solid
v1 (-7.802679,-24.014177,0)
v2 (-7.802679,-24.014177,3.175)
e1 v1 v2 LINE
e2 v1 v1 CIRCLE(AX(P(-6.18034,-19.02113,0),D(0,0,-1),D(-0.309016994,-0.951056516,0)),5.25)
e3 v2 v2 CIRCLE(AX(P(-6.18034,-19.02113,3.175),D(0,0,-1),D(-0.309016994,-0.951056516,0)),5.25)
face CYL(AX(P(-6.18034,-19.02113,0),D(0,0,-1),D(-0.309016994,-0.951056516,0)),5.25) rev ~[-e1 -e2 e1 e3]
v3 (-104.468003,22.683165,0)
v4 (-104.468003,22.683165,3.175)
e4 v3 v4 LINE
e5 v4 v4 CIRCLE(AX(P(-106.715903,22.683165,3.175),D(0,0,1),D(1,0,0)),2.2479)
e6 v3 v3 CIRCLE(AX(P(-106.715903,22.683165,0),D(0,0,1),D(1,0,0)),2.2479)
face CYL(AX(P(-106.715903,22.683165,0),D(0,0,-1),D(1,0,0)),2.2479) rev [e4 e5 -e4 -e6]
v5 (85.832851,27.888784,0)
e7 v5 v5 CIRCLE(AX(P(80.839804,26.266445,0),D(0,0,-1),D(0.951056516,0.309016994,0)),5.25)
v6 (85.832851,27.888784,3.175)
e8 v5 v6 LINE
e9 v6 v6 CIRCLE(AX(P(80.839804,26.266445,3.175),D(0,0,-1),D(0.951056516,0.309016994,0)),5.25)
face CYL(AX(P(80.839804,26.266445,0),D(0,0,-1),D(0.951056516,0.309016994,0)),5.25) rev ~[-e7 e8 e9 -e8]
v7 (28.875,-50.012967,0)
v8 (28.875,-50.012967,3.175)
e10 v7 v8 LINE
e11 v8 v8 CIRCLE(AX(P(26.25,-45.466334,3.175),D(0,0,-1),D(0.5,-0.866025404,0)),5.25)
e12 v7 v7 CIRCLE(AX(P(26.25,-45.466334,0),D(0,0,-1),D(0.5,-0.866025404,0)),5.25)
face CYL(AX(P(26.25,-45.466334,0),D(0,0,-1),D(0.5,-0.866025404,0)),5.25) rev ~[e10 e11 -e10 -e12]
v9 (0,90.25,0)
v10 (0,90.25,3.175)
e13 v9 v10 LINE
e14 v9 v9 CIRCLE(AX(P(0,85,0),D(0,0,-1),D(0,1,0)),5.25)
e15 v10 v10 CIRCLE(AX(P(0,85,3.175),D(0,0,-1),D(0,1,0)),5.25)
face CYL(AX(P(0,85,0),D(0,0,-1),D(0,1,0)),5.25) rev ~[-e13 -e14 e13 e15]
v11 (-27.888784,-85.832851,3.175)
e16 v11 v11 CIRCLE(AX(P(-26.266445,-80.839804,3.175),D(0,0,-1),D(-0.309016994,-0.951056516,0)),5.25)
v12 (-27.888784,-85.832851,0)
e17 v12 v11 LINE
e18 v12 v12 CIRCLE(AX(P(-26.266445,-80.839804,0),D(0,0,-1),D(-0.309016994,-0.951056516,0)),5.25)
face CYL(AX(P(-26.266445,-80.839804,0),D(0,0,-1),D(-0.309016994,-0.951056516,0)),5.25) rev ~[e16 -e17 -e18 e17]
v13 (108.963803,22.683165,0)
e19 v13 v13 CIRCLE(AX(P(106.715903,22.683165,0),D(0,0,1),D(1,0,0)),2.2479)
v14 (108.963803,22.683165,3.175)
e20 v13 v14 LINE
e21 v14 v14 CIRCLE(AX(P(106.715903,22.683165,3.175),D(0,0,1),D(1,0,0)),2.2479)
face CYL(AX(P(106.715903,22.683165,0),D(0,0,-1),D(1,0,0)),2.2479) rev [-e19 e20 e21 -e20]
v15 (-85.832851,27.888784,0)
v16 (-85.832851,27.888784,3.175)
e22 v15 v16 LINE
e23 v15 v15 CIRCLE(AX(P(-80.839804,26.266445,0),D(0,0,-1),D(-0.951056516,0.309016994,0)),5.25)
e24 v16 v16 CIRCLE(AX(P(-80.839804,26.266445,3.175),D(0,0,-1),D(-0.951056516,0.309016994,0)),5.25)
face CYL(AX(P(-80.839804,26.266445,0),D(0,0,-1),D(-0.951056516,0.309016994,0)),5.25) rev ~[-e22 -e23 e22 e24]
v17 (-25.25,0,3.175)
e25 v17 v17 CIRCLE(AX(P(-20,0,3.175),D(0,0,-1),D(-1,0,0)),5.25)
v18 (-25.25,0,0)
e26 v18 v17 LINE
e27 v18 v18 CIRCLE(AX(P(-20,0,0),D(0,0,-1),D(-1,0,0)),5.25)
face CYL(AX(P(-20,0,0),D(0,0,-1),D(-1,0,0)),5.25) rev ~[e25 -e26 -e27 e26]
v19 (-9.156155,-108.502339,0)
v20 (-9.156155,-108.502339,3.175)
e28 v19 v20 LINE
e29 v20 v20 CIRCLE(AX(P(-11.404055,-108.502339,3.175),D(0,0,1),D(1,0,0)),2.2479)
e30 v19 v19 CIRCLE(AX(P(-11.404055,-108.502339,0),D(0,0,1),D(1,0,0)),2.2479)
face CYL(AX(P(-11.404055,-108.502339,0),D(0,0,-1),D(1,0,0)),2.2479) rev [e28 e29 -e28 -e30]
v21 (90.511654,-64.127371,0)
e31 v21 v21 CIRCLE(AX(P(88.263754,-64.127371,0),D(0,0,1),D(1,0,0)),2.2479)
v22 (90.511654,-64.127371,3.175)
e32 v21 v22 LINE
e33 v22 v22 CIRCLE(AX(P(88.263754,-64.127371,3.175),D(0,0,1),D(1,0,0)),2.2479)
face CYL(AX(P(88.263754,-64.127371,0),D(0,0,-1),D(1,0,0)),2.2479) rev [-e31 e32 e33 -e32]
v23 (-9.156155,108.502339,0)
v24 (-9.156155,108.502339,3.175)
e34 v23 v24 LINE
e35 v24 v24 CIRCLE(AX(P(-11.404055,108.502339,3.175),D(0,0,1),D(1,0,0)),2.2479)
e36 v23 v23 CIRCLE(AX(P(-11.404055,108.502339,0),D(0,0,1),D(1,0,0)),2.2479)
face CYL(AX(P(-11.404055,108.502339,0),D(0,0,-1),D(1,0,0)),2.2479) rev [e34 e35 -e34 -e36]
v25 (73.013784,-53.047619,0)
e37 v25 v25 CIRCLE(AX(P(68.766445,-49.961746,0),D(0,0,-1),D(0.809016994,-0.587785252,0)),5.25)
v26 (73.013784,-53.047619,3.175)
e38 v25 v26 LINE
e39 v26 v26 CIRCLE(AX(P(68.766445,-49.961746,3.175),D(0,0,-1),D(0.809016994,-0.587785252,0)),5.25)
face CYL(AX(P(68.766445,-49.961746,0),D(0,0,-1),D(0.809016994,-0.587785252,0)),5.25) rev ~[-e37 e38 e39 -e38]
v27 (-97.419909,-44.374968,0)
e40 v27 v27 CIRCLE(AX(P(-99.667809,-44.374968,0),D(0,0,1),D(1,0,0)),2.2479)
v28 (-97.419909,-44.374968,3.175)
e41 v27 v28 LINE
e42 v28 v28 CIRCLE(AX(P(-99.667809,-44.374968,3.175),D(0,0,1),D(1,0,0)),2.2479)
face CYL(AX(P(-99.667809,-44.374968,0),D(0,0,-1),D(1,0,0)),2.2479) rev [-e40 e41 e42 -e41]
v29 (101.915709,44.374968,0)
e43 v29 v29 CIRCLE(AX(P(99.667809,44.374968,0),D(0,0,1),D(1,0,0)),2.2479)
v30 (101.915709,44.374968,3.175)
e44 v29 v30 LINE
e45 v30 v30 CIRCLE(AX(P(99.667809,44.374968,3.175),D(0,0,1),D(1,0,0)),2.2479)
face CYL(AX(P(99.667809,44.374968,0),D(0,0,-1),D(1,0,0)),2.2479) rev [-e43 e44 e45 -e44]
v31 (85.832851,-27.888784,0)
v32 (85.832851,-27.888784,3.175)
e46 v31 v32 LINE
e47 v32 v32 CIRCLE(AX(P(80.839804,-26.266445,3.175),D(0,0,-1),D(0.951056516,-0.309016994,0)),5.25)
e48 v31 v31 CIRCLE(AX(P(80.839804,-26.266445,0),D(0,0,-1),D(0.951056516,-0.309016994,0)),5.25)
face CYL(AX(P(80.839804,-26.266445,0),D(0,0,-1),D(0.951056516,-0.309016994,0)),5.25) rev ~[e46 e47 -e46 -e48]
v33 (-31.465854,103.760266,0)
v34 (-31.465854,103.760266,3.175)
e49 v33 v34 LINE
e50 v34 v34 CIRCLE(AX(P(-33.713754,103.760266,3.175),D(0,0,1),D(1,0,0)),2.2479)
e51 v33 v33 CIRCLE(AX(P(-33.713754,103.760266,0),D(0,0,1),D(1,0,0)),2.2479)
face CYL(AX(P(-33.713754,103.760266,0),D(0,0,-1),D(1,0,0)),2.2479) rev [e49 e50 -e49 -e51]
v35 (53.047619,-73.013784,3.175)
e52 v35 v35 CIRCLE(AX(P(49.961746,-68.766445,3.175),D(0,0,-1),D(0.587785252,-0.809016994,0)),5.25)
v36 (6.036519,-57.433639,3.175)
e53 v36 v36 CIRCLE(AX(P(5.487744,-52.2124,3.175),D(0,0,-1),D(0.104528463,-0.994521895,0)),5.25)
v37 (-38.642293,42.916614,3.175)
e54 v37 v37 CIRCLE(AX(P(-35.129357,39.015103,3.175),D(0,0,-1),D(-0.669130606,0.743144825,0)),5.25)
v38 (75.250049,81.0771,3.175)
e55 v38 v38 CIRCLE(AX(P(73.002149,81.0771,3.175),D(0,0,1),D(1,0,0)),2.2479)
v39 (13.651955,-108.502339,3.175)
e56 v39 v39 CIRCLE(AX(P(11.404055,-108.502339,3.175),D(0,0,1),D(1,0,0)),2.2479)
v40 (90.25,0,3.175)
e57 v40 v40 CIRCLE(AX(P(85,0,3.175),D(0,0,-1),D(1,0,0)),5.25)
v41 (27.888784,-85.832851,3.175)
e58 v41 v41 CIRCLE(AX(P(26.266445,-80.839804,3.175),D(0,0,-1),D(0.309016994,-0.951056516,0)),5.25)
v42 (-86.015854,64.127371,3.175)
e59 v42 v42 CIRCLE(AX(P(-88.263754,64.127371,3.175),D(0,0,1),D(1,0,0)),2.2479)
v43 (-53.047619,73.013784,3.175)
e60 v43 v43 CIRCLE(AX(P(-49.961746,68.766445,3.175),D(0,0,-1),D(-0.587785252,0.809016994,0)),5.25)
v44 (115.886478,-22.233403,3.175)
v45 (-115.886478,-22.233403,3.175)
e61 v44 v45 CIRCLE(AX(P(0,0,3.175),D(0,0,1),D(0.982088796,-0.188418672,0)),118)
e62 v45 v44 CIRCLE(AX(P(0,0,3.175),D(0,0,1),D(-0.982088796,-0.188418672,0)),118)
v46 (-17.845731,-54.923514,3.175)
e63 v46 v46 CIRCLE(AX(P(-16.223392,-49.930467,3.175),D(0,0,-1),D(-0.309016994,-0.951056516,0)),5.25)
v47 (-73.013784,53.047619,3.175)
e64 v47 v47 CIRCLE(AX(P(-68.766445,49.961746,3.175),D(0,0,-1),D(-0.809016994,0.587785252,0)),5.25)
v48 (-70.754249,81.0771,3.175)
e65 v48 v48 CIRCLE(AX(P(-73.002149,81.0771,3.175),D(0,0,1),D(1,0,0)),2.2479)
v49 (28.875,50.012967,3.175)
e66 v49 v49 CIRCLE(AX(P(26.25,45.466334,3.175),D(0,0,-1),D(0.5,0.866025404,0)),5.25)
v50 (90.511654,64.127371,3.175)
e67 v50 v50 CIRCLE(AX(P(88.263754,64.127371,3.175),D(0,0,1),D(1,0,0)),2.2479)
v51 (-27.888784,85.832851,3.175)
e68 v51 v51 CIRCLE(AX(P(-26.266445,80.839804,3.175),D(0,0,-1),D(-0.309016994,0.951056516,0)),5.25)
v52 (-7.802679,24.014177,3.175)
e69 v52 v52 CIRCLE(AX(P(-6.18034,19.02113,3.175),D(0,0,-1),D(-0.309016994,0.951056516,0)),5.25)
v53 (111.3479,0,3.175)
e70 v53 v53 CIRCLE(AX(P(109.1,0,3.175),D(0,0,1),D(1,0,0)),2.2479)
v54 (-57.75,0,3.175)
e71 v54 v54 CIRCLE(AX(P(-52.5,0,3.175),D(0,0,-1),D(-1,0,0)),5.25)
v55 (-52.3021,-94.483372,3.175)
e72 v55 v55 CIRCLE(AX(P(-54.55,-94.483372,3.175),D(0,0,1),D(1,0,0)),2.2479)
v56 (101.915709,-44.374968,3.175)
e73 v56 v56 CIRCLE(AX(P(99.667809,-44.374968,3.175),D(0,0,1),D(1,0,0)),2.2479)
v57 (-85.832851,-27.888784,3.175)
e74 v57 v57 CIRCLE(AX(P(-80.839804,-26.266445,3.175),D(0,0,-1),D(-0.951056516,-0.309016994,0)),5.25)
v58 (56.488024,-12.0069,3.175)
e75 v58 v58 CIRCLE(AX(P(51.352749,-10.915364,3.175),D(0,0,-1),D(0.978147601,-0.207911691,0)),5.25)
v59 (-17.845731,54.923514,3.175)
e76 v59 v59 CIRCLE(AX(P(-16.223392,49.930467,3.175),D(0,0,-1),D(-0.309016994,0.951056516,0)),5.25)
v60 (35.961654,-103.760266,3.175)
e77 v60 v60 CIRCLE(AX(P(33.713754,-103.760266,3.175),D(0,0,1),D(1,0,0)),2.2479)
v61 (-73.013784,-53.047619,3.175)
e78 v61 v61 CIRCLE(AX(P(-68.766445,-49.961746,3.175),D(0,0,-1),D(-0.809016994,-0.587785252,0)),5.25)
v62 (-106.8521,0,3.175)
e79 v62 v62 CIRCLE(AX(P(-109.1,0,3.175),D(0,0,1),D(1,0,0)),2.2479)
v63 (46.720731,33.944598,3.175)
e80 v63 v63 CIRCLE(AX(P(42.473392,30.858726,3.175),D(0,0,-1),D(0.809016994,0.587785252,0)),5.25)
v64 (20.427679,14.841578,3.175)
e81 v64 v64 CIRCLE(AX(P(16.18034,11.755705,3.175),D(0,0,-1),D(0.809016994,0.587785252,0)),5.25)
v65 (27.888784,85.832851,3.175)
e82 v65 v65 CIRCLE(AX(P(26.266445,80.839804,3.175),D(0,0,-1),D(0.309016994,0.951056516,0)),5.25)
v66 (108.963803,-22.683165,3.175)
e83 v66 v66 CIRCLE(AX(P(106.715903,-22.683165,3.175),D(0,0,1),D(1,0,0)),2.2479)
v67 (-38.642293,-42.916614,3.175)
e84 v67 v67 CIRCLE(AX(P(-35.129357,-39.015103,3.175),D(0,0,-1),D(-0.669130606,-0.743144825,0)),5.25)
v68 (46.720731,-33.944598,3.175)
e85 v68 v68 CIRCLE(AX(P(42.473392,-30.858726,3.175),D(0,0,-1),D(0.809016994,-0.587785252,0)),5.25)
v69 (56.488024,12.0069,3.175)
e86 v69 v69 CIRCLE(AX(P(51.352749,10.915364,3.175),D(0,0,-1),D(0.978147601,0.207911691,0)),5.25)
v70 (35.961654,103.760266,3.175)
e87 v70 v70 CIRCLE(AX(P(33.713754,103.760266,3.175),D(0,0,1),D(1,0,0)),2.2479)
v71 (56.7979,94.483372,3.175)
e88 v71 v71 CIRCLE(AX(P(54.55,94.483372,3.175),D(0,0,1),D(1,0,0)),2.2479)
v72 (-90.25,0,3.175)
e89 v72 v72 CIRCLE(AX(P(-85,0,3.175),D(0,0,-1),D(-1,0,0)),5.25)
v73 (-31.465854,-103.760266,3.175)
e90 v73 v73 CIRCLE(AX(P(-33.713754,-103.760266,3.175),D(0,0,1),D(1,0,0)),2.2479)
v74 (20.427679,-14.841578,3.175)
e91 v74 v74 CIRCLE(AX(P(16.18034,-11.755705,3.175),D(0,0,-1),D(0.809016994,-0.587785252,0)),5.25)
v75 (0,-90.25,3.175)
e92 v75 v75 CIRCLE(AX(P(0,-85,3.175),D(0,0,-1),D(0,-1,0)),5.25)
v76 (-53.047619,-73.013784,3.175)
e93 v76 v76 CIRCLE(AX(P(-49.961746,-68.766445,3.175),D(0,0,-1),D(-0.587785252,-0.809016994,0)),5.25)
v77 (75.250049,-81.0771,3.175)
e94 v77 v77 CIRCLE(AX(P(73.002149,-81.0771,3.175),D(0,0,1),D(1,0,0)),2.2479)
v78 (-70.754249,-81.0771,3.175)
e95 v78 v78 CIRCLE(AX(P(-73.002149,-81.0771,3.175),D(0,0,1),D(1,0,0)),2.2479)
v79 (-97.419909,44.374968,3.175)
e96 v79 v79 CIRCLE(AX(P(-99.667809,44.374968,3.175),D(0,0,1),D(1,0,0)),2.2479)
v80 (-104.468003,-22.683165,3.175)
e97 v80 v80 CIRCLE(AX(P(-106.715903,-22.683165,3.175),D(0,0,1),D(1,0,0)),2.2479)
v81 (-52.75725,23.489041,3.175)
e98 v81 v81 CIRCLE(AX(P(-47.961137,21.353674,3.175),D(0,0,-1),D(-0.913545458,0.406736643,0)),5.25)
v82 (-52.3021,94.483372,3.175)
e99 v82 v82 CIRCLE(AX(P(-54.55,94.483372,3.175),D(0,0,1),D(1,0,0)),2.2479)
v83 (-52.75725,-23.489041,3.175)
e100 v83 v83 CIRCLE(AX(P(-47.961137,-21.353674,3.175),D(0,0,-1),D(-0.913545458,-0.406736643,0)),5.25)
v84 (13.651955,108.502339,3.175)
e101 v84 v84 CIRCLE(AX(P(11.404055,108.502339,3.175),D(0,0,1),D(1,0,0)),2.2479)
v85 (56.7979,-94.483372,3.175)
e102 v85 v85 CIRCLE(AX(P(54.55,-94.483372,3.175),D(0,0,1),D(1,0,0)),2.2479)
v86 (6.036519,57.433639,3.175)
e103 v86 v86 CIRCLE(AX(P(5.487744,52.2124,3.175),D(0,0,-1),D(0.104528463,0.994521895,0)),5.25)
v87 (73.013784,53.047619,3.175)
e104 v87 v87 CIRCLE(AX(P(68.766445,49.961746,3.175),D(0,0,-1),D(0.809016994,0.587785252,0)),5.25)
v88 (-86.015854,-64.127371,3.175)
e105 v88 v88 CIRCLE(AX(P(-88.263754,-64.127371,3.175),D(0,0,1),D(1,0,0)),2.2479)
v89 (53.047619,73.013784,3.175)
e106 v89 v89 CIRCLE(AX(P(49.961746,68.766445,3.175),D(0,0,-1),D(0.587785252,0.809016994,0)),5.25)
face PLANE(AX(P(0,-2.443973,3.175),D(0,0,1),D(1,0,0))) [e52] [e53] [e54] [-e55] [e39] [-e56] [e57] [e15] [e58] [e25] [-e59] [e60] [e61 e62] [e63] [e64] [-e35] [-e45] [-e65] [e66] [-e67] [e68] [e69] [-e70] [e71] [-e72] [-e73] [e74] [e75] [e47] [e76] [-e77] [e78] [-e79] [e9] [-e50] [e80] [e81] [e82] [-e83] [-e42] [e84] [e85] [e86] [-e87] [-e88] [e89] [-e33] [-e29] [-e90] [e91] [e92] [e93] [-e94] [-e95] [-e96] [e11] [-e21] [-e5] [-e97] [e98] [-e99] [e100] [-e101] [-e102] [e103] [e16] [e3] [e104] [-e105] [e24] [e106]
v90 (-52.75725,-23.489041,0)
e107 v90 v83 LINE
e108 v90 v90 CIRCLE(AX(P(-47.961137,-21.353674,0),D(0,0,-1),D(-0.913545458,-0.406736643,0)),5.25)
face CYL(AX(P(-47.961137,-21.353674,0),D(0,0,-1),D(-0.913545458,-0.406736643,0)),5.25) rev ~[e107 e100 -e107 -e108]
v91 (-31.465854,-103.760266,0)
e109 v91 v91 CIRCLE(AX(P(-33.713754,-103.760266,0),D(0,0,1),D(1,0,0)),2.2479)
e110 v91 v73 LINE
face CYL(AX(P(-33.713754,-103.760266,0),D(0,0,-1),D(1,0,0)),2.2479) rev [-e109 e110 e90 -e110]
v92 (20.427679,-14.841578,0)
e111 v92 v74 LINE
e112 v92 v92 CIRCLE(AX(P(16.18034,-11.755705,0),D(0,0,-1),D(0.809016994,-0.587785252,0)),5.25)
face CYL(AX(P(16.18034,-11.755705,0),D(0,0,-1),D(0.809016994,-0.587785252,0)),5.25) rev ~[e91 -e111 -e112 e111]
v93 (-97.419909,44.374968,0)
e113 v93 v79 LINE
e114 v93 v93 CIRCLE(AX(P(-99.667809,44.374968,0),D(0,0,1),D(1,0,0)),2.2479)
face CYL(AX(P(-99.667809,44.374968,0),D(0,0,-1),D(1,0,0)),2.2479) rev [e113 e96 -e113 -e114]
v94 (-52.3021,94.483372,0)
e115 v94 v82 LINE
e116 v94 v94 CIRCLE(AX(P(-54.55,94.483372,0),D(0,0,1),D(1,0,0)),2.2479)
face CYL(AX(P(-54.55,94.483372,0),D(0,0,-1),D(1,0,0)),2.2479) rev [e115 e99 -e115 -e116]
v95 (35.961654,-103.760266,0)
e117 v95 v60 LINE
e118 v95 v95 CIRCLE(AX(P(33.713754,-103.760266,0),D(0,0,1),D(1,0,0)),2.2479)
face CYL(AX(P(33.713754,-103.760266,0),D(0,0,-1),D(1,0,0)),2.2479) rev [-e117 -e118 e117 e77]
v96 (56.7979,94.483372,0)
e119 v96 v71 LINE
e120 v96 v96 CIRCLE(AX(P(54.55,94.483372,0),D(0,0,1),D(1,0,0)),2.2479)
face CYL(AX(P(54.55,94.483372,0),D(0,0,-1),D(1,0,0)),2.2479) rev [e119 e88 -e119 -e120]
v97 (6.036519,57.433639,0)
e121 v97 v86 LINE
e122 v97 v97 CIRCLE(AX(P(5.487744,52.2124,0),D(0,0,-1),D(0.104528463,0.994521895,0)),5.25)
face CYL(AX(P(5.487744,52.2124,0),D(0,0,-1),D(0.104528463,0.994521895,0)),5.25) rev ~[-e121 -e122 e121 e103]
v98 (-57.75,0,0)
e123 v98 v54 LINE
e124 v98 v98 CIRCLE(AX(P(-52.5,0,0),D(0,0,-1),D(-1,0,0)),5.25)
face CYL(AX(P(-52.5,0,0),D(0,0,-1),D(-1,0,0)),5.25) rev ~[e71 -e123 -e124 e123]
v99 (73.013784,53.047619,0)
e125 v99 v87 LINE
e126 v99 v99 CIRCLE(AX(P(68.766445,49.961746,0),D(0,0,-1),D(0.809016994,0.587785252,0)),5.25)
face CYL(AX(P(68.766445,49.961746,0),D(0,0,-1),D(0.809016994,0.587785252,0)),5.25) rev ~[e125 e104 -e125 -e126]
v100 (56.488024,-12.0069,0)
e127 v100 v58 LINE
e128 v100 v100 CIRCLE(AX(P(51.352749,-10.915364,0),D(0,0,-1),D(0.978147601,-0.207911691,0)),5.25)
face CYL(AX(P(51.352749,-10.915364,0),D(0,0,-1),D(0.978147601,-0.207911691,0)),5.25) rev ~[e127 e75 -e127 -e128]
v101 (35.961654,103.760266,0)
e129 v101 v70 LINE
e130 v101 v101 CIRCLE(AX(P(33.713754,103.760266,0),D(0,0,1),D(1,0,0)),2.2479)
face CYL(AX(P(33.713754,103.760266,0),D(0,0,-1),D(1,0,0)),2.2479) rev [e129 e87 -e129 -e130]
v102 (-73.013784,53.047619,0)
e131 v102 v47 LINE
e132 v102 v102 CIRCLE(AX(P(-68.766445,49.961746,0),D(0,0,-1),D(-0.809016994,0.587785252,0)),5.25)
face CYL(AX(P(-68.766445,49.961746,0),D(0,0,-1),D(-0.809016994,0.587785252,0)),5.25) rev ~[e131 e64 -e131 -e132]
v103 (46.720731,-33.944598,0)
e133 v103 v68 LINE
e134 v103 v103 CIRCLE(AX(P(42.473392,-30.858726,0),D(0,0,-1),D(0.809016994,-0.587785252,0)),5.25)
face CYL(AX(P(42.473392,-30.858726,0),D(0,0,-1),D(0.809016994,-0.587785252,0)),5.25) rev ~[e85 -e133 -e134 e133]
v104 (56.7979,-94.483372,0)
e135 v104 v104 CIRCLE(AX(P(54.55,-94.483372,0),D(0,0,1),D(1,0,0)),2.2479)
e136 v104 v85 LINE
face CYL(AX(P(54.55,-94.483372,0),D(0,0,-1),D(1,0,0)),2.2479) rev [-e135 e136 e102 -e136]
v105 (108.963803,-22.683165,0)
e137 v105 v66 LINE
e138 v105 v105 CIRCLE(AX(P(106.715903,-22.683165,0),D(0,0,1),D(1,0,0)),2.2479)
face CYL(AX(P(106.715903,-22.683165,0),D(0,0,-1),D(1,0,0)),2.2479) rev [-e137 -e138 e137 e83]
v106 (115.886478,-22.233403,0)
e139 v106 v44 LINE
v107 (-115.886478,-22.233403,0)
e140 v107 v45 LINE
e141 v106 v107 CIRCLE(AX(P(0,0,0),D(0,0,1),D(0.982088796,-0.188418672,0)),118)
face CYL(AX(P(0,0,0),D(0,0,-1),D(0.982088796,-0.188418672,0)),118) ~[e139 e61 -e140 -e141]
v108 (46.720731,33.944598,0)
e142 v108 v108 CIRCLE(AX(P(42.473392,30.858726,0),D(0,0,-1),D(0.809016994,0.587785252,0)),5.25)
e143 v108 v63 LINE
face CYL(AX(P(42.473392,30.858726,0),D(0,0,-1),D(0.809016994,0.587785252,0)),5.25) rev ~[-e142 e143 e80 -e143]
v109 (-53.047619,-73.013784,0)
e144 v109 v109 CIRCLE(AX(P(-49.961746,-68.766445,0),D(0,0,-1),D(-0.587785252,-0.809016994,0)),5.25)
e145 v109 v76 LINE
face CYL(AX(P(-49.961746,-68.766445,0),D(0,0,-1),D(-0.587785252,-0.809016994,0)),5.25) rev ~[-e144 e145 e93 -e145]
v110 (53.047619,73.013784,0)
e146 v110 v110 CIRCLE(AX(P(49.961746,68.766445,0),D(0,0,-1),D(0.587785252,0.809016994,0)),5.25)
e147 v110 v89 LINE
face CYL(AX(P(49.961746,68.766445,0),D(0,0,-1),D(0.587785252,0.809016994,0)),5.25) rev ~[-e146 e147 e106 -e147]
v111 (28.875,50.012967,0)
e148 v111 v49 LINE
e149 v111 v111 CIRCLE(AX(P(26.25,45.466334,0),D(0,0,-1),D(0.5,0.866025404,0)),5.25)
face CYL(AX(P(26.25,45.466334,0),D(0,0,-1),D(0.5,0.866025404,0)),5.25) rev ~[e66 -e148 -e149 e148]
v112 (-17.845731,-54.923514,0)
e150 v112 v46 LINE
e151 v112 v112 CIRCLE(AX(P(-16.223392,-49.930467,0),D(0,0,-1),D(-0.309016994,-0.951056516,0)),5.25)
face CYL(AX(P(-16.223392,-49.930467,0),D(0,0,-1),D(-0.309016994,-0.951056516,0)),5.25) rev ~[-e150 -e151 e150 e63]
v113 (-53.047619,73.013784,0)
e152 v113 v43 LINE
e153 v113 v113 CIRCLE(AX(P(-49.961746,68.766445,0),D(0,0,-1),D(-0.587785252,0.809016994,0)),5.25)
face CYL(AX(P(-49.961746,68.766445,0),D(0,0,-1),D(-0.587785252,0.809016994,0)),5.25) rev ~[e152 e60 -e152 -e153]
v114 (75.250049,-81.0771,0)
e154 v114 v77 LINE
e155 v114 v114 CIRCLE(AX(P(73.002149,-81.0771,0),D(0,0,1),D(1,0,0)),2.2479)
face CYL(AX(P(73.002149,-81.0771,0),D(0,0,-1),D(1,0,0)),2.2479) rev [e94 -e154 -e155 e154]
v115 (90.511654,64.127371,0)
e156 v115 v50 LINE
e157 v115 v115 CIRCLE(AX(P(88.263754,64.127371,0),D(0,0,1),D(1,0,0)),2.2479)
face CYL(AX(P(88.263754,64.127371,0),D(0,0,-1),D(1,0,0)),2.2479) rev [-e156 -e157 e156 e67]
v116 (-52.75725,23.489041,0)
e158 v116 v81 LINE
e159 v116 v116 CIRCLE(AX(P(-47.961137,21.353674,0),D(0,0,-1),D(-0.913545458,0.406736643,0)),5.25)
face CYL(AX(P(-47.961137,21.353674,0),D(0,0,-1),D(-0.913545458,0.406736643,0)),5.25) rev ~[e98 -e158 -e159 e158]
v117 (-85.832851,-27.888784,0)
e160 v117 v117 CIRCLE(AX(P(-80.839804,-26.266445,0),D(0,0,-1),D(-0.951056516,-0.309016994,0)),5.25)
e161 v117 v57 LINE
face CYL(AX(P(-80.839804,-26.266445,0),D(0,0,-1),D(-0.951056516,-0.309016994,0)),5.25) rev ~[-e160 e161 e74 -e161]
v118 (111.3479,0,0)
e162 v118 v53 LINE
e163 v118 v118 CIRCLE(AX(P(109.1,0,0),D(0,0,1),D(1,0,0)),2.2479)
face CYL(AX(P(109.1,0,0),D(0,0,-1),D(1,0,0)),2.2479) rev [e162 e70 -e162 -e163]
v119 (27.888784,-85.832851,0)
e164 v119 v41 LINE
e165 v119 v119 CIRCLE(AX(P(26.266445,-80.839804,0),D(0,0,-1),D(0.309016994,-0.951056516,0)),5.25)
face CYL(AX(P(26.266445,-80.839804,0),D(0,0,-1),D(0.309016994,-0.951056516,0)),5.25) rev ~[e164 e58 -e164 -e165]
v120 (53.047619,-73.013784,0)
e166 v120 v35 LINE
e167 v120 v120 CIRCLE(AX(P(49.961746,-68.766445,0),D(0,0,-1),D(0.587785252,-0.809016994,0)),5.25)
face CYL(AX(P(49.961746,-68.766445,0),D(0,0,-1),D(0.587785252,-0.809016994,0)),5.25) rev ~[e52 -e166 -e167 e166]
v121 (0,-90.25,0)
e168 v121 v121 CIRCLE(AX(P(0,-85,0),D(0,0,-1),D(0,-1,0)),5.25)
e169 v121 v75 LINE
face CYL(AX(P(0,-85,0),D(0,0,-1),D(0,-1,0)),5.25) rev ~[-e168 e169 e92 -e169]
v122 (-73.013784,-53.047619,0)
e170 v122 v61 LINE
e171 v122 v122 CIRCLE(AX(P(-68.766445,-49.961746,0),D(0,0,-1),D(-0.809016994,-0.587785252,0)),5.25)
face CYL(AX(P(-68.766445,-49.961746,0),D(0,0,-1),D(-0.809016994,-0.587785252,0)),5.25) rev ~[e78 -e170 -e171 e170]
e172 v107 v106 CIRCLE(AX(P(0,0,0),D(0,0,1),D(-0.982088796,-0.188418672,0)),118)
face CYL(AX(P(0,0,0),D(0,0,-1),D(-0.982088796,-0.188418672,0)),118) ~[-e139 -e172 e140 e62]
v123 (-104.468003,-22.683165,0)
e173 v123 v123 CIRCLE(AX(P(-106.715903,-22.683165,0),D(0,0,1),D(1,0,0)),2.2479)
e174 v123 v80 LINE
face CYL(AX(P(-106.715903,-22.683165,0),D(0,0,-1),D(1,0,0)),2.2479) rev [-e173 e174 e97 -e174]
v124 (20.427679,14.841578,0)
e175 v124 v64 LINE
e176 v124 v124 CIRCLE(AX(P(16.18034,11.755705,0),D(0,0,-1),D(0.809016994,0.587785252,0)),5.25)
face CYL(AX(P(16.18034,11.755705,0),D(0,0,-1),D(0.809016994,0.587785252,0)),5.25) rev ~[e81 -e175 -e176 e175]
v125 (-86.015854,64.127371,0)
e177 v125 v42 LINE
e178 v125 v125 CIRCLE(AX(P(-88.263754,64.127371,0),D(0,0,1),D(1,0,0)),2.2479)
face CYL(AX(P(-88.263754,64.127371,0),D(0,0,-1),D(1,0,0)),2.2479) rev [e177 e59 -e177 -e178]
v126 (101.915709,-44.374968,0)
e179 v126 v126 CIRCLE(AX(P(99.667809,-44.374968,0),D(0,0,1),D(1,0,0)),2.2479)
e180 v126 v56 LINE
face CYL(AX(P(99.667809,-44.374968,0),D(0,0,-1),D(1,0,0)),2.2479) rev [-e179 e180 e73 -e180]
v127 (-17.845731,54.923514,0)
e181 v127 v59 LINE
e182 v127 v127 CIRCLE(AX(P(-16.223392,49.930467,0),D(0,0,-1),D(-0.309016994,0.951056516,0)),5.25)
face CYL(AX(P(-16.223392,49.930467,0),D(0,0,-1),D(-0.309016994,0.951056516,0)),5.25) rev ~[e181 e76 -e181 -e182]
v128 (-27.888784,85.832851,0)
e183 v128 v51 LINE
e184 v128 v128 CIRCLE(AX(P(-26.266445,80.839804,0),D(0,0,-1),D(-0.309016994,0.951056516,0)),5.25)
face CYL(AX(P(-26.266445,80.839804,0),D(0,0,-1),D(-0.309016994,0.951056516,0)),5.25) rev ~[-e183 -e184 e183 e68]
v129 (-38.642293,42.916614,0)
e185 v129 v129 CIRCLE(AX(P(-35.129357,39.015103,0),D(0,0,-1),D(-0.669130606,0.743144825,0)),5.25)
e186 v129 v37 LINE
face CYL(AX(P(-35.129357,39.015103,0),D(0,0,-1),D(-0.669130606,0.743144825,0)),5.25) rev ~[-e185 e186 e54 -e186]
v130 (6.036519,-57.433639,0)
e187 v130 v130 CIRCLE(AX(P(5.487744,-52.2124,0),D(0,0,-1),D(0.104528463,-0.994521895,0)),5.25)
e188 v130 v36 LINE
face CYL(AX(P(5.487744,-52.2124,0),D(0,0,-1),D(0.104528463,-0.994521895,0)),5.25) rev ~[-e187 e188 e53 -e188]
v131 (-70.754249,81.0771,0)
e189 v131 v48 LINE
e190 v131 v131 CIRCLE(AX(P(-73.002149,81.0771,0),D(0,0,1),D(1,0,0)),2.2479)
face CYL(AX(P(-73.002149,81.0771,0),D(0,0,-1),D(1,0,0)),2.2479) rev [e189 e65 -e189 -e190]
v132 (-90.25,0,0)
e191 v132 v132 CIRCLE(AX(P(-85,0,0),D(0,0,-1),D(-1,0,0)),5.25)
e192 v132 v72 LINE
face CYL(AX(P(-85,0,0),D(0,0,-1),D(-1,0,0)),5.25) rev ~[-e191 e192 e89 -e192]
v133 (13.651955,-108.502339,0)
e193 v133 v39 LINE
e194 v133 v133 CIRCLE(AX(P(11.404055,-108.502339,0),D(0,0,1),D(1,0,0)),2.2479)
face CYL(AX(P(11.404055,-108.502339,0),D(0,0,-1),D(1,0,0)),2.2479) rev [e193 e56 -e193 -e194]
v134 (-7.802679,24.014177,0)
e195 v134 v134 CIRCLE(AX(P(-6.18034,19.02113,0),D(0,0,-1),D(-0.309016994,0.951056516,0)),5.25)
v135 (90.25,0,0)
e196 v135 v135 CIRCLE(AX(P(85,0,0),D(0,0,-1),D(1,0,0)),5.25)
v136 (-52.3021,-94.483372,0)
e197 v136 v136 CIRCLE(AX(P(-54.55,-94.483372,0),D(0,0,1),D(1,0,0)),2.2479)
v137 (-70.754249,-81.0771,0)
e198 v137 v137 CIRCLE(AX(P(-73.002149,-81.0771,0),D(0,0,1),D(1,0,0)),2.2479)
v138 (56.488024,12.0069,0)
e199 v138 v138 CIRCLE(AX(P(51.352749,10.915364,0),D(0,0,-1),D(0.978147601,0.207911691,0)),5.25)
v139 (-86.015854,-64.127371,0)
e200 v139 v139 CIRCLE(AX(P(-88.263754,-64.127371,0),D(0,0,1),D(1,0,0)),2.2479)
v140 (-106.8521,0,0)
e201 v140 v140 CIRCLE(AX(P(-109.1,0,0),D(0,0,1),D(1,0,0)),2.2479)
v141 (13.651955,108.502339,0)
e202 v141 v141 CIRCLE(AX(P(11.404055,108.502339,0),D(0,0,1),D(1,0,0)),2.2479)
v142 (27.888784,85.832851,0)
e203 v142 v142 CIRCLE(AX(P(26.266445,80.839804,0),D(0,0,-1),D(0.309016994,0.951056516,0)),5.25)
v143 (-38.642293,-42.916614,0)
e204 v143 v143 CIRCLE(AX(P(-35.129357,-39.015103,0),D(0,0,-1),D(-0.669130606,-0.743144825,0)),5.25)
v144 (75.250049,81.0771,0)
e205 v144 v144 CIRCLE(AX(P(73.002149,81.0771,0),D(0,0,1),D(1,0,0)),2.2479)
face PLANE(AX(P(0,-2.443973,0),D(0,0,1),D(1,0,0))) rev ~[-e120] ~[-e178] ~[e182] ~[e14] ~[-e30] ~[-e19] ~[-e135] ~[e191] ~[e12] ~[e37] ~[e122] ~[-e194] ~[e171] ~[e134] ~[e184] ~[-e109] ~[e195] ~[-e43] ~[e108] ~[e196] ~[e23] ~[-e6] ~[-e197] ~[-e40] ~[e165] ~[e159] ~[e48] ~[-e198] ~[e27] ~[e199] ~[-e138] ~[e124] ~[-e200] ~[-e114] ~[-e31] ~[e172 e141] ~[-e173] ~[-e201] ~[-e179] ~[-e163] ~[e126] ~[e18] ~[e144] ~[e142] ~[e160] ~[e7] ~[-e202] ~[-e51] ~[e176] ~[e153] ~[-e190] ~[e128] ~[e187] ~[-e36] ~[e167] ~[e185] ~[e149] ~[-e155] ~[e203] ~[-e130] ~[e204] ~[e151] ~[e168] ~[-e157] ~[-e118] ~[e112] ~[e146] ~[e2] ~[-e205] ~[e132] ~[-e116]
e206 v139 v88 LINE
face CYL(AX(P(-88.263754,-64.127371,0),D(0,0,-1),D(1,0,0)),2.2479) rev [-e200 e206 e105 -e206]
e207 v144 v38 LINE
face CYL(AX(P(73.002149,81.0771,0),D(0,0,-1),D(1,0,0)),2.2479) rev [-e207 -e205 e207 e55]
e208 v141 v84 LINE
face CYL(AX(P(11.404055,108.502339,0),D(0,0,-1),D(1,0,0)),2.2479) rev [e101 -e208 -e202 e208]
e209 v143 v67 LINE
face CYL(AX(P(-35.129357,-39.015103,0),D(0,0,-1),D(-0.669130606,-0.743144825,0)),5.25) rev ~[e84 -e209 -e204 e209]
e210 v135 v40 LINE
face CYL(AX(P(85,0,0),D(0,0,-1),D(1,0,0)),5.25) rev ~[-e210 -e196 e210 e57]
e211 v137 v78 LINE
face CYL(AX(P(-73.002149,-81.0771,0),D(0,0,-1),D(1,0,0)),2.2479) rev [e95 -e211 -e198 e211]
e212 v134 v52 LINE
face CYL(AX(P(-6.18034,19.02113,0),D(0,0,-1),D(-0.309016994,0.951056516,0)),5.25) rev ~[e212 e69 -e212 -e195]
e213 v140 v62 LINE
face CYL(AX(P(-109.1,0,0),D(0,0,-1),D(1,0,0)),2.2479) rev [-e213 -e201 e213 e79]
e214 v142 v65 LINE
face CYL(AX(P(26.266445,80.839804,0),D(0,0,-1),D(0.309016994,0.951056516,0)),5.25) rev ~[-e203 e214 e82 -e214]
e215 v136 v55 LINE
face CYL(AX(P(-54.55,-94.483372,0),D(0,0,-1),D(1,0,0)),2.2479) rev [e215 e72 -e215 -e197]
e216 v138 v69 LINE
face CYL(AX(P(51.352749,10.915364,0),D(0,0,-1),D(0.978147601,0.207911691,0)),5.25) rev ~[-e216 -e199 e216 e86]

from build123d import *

# Parameters (mm, degrees)
SKETCH1_R           = 2.2479
BOSS_EXTRUDE1_DEPTH = 3.175
SKETCH5_3_R         = 5.25
CUT_EXTRUDE2_DEPTH  = 10
CIRPATTERN1_COUNT   = 5
SKETCH5_5_R         = 5.25
CUT_EXTRUDE4_DEPTH  = 167.907401349
CIRPATTERN3_COUNT   = 15
SKETCH5_6_R         = 5.25
CUT_EXTRUDE5_DEPTH  = 10
CIRPATTERN4_COUNT   = 20


with BuildPart() as part:
    # Sketch1 → Boss-Extrude1 (new body)
    with BuildSketch(Plane.XY):
        with BuildLine():
            ThreePointArc((115.886477974, -22.233403312), (0, 118), (-115.886477974, -22.233403312))
            ThreePointArc((-115.886477974, -22.233403312), (0, -118), (115.886477974, -22.233403312))
        make_face()
        with Locations((109.1, 0)):
            Circle(SKETCH1_R, mode=Mode.SUBTRACT)
        with Locations((106.71590324, -22.683165468)):
            Circle(SKETCH1_R, mode=Mode.SUBTRACT)
        with Locations((99.667809429, -44.37496776)):
            Circle(SKETCH1_R, mode=Mode.SUBTRACT)
        with Locations((88.263754086, -64.127371025)):
            Circle(SKETCH1_R, mode=Mode.SUBTRACT)
        with Locations((73.002149154, -81.07710046)):
            Circle(SKETCH1_R, mode=Mode.SUBTRACT)
        with Locations((54.55, -94.483371553)):
            Circle(SKETCH1_R, mode=Mode.SUBTRACT)
        with Locations((33.713754086, -103.760265928)):
            Circle(SKETCH1_R, mode=Mode.SUBTRACT)
        with Locations((11.404055343, -108.502338785)):
            Circle(SKETCH1_R, mode=Mode.SUBTRACT)
        with Locations((-11.404055343, -108.502338785)):
            Circle(SKETCH1_R, mode=Mode.SUBTRACT)
        with Locations((-33.713754086, -103.760265928)):
            Circle(SKETCH1_R, mode=Mode.SUBTRACT)
        with Locations((-54.55, -94.483371553)):
            Circle(SKETCH1_R, mode=Mode.SUBTRACT)
        with Locations((-73.002149154, -81.07710046)):
            Circle(SKETCH1_R, mode=Mode.SUBTRACT)
        with Locations((-88.263754086, -64.127371025)):
            Circle(SKETCH1_R, mode=Mode.SUBTRACT)
        with Locations((-99.667809429, -44.37496776)):
            Circle(SKETCH1_R, mode=Mode.SUBTRACT)
        with Locations((-106.71590324, -22.683165468)):
            Circle(SKETCH1_R, mode=Mode.SUBTRACT)
        with Locations((-109.1, 0)):
            Circle(SKETCH1_R, mode=Mode.SUBTRACT)
        with Locations((-106.71590324, 22.683165468)):
            Circle(SKETCH1_R, mode=Mode.SUBTRACT)
        with Locations((-99.667809429, 44.37496776)):
            Circle(SKETCH1_R, mode=Mode.SUBTRACT)
        with Locations((-88.263754086, 64.127371025)):
            Circle(SKETCH1_R, mode=Mode.SUBTRACT)
        with Locations((-73.002149154, 81.07710046)):
            Circle(SKETCH1_R, mode=Mode.SUBTRACT)
        with Locations((-54.55, 94.483371553)):
            Circle(SKETCH1_R, mode=Mode.SUBTRACT)
        with Locations((-33.713754086, 103.760265928)):
            Circle(SKETCH1_R, mode=Mode.SUBTRACT)
        with Locations((-11.404055343, 108.502338785)):
            Circle(SKETCH1_R, mode=Mode.SUBTRACT)
        with Locations((11.404055343, 108.502338785)):
            Circle(SKETCH1_R, mode=Mode.SUBTRACT)
        with Locations((33.713754086, 103.760265928)):
            Circle(SKETCH1_R, mode=Mode.SUBTRACT)
        with Locations((54.55, 94.483371553)):
            Circle(SKETCH1_R, mode=Mode.SUBTRACT)
        with Locations((73.002149154, 81.07710046)):
            Circle(SKETCH1_R, mode=Mode.SUBTRACT)
        with Locations((88.263754086, 64.127371025)):
            Circle(SKETCH1_R, mode=Mode.SUBTRACT)
        with Locations((99.667809429, 44.37496776)):
            Circle(SKETCH1_R, mode=Mode.SUBTRACT)
        with Locations((106.71590324, 22.683165468)):
            Circle(SKETCH1_R, mode=Mode.SUBTRACT)
    extrude(amount=BOSS_EXTRUDE1_DEPTH)

    # Sketch5<3> → Cut-Extrude2 (cut)
    with BuildSketch(Plane(origin=(0, 0, 0), x_dir=(-1, 0, 0), z_dir=(0, 0, -1))):
        with Locations((20, 0)):
            Circle(SKETCH5_3_R)
    cut_extrude2 = extrude(amount=-CUT_EXTRUDE2_DEPTH, mode=Mode.SUBTRACT)

    # CirPattern1: Cut-Extrude2 ×5 about axis
    cirpattern1_axis = Axis((0, 0, 0), (0, 0, 1))
    for i in range(1, CIRPATTERN1_COUNT):
        add(cut_extrude2.rotate(cirpattern1_axis, i * 360 / CIRPATTERN1_COUNT), mode=Mode.SUBTRACT)

    # Sketch5<5> → Cut-Extrude4 (cut, through all)
    with BuildSketch(Plane(origin=(0, 0, 0), x_dir=(-1, 0, 0), z_dir=(0, 0, -1))):
        with Locations((52.5, 0)):
            Circle(SKETCH5_5_R)
    cut_extrude4 = extrude(amount=-CUT_EXTRUDE4_DEPTH, mode=Mode.SUBTRACT)

    # CirPattern3: Cut-Extrude4 ×15 about axis
    cirpattern3_axis = Axis((0, 0, 0), (0, 0, 1))
    for i in range(1, CIRPATTERN3_COUNT):
        add(cut_extrude4.rotate(cirpattern3_axis, i * 360 / CIRPATTERN3_COUNT), mode=Mode.SUBTRACT)

    # Sketch5<6> → Cut-Extrude5 (cut)
    with BuildSketch(Plane(origin=(0, 0, 0), x_dir=(-1, 0, 0), z_dir=(0, 0, -1))):
        with Locations((85, 0)):
            Circle(SKETCH5_6_R)
    cut_extrude5 = extrude(amount=-CUT_EXTRUDE5_DEPTH, mode=Mode.SUBTRACT)

    # CirPattern4: Cut-Extrude5 ×20 about axis
    cirpattern4_axis = Axis((0, 0, 0), (0, 0, 1))
    for i in range(1, CIRPATTERN4_COUNT):
        add(cut_extrude5.rotate(cirpattern4_axis, i * 360 / CIRPATTERN4_COUNT), mode=Mode.SUBTRACT)


solid = part.part
